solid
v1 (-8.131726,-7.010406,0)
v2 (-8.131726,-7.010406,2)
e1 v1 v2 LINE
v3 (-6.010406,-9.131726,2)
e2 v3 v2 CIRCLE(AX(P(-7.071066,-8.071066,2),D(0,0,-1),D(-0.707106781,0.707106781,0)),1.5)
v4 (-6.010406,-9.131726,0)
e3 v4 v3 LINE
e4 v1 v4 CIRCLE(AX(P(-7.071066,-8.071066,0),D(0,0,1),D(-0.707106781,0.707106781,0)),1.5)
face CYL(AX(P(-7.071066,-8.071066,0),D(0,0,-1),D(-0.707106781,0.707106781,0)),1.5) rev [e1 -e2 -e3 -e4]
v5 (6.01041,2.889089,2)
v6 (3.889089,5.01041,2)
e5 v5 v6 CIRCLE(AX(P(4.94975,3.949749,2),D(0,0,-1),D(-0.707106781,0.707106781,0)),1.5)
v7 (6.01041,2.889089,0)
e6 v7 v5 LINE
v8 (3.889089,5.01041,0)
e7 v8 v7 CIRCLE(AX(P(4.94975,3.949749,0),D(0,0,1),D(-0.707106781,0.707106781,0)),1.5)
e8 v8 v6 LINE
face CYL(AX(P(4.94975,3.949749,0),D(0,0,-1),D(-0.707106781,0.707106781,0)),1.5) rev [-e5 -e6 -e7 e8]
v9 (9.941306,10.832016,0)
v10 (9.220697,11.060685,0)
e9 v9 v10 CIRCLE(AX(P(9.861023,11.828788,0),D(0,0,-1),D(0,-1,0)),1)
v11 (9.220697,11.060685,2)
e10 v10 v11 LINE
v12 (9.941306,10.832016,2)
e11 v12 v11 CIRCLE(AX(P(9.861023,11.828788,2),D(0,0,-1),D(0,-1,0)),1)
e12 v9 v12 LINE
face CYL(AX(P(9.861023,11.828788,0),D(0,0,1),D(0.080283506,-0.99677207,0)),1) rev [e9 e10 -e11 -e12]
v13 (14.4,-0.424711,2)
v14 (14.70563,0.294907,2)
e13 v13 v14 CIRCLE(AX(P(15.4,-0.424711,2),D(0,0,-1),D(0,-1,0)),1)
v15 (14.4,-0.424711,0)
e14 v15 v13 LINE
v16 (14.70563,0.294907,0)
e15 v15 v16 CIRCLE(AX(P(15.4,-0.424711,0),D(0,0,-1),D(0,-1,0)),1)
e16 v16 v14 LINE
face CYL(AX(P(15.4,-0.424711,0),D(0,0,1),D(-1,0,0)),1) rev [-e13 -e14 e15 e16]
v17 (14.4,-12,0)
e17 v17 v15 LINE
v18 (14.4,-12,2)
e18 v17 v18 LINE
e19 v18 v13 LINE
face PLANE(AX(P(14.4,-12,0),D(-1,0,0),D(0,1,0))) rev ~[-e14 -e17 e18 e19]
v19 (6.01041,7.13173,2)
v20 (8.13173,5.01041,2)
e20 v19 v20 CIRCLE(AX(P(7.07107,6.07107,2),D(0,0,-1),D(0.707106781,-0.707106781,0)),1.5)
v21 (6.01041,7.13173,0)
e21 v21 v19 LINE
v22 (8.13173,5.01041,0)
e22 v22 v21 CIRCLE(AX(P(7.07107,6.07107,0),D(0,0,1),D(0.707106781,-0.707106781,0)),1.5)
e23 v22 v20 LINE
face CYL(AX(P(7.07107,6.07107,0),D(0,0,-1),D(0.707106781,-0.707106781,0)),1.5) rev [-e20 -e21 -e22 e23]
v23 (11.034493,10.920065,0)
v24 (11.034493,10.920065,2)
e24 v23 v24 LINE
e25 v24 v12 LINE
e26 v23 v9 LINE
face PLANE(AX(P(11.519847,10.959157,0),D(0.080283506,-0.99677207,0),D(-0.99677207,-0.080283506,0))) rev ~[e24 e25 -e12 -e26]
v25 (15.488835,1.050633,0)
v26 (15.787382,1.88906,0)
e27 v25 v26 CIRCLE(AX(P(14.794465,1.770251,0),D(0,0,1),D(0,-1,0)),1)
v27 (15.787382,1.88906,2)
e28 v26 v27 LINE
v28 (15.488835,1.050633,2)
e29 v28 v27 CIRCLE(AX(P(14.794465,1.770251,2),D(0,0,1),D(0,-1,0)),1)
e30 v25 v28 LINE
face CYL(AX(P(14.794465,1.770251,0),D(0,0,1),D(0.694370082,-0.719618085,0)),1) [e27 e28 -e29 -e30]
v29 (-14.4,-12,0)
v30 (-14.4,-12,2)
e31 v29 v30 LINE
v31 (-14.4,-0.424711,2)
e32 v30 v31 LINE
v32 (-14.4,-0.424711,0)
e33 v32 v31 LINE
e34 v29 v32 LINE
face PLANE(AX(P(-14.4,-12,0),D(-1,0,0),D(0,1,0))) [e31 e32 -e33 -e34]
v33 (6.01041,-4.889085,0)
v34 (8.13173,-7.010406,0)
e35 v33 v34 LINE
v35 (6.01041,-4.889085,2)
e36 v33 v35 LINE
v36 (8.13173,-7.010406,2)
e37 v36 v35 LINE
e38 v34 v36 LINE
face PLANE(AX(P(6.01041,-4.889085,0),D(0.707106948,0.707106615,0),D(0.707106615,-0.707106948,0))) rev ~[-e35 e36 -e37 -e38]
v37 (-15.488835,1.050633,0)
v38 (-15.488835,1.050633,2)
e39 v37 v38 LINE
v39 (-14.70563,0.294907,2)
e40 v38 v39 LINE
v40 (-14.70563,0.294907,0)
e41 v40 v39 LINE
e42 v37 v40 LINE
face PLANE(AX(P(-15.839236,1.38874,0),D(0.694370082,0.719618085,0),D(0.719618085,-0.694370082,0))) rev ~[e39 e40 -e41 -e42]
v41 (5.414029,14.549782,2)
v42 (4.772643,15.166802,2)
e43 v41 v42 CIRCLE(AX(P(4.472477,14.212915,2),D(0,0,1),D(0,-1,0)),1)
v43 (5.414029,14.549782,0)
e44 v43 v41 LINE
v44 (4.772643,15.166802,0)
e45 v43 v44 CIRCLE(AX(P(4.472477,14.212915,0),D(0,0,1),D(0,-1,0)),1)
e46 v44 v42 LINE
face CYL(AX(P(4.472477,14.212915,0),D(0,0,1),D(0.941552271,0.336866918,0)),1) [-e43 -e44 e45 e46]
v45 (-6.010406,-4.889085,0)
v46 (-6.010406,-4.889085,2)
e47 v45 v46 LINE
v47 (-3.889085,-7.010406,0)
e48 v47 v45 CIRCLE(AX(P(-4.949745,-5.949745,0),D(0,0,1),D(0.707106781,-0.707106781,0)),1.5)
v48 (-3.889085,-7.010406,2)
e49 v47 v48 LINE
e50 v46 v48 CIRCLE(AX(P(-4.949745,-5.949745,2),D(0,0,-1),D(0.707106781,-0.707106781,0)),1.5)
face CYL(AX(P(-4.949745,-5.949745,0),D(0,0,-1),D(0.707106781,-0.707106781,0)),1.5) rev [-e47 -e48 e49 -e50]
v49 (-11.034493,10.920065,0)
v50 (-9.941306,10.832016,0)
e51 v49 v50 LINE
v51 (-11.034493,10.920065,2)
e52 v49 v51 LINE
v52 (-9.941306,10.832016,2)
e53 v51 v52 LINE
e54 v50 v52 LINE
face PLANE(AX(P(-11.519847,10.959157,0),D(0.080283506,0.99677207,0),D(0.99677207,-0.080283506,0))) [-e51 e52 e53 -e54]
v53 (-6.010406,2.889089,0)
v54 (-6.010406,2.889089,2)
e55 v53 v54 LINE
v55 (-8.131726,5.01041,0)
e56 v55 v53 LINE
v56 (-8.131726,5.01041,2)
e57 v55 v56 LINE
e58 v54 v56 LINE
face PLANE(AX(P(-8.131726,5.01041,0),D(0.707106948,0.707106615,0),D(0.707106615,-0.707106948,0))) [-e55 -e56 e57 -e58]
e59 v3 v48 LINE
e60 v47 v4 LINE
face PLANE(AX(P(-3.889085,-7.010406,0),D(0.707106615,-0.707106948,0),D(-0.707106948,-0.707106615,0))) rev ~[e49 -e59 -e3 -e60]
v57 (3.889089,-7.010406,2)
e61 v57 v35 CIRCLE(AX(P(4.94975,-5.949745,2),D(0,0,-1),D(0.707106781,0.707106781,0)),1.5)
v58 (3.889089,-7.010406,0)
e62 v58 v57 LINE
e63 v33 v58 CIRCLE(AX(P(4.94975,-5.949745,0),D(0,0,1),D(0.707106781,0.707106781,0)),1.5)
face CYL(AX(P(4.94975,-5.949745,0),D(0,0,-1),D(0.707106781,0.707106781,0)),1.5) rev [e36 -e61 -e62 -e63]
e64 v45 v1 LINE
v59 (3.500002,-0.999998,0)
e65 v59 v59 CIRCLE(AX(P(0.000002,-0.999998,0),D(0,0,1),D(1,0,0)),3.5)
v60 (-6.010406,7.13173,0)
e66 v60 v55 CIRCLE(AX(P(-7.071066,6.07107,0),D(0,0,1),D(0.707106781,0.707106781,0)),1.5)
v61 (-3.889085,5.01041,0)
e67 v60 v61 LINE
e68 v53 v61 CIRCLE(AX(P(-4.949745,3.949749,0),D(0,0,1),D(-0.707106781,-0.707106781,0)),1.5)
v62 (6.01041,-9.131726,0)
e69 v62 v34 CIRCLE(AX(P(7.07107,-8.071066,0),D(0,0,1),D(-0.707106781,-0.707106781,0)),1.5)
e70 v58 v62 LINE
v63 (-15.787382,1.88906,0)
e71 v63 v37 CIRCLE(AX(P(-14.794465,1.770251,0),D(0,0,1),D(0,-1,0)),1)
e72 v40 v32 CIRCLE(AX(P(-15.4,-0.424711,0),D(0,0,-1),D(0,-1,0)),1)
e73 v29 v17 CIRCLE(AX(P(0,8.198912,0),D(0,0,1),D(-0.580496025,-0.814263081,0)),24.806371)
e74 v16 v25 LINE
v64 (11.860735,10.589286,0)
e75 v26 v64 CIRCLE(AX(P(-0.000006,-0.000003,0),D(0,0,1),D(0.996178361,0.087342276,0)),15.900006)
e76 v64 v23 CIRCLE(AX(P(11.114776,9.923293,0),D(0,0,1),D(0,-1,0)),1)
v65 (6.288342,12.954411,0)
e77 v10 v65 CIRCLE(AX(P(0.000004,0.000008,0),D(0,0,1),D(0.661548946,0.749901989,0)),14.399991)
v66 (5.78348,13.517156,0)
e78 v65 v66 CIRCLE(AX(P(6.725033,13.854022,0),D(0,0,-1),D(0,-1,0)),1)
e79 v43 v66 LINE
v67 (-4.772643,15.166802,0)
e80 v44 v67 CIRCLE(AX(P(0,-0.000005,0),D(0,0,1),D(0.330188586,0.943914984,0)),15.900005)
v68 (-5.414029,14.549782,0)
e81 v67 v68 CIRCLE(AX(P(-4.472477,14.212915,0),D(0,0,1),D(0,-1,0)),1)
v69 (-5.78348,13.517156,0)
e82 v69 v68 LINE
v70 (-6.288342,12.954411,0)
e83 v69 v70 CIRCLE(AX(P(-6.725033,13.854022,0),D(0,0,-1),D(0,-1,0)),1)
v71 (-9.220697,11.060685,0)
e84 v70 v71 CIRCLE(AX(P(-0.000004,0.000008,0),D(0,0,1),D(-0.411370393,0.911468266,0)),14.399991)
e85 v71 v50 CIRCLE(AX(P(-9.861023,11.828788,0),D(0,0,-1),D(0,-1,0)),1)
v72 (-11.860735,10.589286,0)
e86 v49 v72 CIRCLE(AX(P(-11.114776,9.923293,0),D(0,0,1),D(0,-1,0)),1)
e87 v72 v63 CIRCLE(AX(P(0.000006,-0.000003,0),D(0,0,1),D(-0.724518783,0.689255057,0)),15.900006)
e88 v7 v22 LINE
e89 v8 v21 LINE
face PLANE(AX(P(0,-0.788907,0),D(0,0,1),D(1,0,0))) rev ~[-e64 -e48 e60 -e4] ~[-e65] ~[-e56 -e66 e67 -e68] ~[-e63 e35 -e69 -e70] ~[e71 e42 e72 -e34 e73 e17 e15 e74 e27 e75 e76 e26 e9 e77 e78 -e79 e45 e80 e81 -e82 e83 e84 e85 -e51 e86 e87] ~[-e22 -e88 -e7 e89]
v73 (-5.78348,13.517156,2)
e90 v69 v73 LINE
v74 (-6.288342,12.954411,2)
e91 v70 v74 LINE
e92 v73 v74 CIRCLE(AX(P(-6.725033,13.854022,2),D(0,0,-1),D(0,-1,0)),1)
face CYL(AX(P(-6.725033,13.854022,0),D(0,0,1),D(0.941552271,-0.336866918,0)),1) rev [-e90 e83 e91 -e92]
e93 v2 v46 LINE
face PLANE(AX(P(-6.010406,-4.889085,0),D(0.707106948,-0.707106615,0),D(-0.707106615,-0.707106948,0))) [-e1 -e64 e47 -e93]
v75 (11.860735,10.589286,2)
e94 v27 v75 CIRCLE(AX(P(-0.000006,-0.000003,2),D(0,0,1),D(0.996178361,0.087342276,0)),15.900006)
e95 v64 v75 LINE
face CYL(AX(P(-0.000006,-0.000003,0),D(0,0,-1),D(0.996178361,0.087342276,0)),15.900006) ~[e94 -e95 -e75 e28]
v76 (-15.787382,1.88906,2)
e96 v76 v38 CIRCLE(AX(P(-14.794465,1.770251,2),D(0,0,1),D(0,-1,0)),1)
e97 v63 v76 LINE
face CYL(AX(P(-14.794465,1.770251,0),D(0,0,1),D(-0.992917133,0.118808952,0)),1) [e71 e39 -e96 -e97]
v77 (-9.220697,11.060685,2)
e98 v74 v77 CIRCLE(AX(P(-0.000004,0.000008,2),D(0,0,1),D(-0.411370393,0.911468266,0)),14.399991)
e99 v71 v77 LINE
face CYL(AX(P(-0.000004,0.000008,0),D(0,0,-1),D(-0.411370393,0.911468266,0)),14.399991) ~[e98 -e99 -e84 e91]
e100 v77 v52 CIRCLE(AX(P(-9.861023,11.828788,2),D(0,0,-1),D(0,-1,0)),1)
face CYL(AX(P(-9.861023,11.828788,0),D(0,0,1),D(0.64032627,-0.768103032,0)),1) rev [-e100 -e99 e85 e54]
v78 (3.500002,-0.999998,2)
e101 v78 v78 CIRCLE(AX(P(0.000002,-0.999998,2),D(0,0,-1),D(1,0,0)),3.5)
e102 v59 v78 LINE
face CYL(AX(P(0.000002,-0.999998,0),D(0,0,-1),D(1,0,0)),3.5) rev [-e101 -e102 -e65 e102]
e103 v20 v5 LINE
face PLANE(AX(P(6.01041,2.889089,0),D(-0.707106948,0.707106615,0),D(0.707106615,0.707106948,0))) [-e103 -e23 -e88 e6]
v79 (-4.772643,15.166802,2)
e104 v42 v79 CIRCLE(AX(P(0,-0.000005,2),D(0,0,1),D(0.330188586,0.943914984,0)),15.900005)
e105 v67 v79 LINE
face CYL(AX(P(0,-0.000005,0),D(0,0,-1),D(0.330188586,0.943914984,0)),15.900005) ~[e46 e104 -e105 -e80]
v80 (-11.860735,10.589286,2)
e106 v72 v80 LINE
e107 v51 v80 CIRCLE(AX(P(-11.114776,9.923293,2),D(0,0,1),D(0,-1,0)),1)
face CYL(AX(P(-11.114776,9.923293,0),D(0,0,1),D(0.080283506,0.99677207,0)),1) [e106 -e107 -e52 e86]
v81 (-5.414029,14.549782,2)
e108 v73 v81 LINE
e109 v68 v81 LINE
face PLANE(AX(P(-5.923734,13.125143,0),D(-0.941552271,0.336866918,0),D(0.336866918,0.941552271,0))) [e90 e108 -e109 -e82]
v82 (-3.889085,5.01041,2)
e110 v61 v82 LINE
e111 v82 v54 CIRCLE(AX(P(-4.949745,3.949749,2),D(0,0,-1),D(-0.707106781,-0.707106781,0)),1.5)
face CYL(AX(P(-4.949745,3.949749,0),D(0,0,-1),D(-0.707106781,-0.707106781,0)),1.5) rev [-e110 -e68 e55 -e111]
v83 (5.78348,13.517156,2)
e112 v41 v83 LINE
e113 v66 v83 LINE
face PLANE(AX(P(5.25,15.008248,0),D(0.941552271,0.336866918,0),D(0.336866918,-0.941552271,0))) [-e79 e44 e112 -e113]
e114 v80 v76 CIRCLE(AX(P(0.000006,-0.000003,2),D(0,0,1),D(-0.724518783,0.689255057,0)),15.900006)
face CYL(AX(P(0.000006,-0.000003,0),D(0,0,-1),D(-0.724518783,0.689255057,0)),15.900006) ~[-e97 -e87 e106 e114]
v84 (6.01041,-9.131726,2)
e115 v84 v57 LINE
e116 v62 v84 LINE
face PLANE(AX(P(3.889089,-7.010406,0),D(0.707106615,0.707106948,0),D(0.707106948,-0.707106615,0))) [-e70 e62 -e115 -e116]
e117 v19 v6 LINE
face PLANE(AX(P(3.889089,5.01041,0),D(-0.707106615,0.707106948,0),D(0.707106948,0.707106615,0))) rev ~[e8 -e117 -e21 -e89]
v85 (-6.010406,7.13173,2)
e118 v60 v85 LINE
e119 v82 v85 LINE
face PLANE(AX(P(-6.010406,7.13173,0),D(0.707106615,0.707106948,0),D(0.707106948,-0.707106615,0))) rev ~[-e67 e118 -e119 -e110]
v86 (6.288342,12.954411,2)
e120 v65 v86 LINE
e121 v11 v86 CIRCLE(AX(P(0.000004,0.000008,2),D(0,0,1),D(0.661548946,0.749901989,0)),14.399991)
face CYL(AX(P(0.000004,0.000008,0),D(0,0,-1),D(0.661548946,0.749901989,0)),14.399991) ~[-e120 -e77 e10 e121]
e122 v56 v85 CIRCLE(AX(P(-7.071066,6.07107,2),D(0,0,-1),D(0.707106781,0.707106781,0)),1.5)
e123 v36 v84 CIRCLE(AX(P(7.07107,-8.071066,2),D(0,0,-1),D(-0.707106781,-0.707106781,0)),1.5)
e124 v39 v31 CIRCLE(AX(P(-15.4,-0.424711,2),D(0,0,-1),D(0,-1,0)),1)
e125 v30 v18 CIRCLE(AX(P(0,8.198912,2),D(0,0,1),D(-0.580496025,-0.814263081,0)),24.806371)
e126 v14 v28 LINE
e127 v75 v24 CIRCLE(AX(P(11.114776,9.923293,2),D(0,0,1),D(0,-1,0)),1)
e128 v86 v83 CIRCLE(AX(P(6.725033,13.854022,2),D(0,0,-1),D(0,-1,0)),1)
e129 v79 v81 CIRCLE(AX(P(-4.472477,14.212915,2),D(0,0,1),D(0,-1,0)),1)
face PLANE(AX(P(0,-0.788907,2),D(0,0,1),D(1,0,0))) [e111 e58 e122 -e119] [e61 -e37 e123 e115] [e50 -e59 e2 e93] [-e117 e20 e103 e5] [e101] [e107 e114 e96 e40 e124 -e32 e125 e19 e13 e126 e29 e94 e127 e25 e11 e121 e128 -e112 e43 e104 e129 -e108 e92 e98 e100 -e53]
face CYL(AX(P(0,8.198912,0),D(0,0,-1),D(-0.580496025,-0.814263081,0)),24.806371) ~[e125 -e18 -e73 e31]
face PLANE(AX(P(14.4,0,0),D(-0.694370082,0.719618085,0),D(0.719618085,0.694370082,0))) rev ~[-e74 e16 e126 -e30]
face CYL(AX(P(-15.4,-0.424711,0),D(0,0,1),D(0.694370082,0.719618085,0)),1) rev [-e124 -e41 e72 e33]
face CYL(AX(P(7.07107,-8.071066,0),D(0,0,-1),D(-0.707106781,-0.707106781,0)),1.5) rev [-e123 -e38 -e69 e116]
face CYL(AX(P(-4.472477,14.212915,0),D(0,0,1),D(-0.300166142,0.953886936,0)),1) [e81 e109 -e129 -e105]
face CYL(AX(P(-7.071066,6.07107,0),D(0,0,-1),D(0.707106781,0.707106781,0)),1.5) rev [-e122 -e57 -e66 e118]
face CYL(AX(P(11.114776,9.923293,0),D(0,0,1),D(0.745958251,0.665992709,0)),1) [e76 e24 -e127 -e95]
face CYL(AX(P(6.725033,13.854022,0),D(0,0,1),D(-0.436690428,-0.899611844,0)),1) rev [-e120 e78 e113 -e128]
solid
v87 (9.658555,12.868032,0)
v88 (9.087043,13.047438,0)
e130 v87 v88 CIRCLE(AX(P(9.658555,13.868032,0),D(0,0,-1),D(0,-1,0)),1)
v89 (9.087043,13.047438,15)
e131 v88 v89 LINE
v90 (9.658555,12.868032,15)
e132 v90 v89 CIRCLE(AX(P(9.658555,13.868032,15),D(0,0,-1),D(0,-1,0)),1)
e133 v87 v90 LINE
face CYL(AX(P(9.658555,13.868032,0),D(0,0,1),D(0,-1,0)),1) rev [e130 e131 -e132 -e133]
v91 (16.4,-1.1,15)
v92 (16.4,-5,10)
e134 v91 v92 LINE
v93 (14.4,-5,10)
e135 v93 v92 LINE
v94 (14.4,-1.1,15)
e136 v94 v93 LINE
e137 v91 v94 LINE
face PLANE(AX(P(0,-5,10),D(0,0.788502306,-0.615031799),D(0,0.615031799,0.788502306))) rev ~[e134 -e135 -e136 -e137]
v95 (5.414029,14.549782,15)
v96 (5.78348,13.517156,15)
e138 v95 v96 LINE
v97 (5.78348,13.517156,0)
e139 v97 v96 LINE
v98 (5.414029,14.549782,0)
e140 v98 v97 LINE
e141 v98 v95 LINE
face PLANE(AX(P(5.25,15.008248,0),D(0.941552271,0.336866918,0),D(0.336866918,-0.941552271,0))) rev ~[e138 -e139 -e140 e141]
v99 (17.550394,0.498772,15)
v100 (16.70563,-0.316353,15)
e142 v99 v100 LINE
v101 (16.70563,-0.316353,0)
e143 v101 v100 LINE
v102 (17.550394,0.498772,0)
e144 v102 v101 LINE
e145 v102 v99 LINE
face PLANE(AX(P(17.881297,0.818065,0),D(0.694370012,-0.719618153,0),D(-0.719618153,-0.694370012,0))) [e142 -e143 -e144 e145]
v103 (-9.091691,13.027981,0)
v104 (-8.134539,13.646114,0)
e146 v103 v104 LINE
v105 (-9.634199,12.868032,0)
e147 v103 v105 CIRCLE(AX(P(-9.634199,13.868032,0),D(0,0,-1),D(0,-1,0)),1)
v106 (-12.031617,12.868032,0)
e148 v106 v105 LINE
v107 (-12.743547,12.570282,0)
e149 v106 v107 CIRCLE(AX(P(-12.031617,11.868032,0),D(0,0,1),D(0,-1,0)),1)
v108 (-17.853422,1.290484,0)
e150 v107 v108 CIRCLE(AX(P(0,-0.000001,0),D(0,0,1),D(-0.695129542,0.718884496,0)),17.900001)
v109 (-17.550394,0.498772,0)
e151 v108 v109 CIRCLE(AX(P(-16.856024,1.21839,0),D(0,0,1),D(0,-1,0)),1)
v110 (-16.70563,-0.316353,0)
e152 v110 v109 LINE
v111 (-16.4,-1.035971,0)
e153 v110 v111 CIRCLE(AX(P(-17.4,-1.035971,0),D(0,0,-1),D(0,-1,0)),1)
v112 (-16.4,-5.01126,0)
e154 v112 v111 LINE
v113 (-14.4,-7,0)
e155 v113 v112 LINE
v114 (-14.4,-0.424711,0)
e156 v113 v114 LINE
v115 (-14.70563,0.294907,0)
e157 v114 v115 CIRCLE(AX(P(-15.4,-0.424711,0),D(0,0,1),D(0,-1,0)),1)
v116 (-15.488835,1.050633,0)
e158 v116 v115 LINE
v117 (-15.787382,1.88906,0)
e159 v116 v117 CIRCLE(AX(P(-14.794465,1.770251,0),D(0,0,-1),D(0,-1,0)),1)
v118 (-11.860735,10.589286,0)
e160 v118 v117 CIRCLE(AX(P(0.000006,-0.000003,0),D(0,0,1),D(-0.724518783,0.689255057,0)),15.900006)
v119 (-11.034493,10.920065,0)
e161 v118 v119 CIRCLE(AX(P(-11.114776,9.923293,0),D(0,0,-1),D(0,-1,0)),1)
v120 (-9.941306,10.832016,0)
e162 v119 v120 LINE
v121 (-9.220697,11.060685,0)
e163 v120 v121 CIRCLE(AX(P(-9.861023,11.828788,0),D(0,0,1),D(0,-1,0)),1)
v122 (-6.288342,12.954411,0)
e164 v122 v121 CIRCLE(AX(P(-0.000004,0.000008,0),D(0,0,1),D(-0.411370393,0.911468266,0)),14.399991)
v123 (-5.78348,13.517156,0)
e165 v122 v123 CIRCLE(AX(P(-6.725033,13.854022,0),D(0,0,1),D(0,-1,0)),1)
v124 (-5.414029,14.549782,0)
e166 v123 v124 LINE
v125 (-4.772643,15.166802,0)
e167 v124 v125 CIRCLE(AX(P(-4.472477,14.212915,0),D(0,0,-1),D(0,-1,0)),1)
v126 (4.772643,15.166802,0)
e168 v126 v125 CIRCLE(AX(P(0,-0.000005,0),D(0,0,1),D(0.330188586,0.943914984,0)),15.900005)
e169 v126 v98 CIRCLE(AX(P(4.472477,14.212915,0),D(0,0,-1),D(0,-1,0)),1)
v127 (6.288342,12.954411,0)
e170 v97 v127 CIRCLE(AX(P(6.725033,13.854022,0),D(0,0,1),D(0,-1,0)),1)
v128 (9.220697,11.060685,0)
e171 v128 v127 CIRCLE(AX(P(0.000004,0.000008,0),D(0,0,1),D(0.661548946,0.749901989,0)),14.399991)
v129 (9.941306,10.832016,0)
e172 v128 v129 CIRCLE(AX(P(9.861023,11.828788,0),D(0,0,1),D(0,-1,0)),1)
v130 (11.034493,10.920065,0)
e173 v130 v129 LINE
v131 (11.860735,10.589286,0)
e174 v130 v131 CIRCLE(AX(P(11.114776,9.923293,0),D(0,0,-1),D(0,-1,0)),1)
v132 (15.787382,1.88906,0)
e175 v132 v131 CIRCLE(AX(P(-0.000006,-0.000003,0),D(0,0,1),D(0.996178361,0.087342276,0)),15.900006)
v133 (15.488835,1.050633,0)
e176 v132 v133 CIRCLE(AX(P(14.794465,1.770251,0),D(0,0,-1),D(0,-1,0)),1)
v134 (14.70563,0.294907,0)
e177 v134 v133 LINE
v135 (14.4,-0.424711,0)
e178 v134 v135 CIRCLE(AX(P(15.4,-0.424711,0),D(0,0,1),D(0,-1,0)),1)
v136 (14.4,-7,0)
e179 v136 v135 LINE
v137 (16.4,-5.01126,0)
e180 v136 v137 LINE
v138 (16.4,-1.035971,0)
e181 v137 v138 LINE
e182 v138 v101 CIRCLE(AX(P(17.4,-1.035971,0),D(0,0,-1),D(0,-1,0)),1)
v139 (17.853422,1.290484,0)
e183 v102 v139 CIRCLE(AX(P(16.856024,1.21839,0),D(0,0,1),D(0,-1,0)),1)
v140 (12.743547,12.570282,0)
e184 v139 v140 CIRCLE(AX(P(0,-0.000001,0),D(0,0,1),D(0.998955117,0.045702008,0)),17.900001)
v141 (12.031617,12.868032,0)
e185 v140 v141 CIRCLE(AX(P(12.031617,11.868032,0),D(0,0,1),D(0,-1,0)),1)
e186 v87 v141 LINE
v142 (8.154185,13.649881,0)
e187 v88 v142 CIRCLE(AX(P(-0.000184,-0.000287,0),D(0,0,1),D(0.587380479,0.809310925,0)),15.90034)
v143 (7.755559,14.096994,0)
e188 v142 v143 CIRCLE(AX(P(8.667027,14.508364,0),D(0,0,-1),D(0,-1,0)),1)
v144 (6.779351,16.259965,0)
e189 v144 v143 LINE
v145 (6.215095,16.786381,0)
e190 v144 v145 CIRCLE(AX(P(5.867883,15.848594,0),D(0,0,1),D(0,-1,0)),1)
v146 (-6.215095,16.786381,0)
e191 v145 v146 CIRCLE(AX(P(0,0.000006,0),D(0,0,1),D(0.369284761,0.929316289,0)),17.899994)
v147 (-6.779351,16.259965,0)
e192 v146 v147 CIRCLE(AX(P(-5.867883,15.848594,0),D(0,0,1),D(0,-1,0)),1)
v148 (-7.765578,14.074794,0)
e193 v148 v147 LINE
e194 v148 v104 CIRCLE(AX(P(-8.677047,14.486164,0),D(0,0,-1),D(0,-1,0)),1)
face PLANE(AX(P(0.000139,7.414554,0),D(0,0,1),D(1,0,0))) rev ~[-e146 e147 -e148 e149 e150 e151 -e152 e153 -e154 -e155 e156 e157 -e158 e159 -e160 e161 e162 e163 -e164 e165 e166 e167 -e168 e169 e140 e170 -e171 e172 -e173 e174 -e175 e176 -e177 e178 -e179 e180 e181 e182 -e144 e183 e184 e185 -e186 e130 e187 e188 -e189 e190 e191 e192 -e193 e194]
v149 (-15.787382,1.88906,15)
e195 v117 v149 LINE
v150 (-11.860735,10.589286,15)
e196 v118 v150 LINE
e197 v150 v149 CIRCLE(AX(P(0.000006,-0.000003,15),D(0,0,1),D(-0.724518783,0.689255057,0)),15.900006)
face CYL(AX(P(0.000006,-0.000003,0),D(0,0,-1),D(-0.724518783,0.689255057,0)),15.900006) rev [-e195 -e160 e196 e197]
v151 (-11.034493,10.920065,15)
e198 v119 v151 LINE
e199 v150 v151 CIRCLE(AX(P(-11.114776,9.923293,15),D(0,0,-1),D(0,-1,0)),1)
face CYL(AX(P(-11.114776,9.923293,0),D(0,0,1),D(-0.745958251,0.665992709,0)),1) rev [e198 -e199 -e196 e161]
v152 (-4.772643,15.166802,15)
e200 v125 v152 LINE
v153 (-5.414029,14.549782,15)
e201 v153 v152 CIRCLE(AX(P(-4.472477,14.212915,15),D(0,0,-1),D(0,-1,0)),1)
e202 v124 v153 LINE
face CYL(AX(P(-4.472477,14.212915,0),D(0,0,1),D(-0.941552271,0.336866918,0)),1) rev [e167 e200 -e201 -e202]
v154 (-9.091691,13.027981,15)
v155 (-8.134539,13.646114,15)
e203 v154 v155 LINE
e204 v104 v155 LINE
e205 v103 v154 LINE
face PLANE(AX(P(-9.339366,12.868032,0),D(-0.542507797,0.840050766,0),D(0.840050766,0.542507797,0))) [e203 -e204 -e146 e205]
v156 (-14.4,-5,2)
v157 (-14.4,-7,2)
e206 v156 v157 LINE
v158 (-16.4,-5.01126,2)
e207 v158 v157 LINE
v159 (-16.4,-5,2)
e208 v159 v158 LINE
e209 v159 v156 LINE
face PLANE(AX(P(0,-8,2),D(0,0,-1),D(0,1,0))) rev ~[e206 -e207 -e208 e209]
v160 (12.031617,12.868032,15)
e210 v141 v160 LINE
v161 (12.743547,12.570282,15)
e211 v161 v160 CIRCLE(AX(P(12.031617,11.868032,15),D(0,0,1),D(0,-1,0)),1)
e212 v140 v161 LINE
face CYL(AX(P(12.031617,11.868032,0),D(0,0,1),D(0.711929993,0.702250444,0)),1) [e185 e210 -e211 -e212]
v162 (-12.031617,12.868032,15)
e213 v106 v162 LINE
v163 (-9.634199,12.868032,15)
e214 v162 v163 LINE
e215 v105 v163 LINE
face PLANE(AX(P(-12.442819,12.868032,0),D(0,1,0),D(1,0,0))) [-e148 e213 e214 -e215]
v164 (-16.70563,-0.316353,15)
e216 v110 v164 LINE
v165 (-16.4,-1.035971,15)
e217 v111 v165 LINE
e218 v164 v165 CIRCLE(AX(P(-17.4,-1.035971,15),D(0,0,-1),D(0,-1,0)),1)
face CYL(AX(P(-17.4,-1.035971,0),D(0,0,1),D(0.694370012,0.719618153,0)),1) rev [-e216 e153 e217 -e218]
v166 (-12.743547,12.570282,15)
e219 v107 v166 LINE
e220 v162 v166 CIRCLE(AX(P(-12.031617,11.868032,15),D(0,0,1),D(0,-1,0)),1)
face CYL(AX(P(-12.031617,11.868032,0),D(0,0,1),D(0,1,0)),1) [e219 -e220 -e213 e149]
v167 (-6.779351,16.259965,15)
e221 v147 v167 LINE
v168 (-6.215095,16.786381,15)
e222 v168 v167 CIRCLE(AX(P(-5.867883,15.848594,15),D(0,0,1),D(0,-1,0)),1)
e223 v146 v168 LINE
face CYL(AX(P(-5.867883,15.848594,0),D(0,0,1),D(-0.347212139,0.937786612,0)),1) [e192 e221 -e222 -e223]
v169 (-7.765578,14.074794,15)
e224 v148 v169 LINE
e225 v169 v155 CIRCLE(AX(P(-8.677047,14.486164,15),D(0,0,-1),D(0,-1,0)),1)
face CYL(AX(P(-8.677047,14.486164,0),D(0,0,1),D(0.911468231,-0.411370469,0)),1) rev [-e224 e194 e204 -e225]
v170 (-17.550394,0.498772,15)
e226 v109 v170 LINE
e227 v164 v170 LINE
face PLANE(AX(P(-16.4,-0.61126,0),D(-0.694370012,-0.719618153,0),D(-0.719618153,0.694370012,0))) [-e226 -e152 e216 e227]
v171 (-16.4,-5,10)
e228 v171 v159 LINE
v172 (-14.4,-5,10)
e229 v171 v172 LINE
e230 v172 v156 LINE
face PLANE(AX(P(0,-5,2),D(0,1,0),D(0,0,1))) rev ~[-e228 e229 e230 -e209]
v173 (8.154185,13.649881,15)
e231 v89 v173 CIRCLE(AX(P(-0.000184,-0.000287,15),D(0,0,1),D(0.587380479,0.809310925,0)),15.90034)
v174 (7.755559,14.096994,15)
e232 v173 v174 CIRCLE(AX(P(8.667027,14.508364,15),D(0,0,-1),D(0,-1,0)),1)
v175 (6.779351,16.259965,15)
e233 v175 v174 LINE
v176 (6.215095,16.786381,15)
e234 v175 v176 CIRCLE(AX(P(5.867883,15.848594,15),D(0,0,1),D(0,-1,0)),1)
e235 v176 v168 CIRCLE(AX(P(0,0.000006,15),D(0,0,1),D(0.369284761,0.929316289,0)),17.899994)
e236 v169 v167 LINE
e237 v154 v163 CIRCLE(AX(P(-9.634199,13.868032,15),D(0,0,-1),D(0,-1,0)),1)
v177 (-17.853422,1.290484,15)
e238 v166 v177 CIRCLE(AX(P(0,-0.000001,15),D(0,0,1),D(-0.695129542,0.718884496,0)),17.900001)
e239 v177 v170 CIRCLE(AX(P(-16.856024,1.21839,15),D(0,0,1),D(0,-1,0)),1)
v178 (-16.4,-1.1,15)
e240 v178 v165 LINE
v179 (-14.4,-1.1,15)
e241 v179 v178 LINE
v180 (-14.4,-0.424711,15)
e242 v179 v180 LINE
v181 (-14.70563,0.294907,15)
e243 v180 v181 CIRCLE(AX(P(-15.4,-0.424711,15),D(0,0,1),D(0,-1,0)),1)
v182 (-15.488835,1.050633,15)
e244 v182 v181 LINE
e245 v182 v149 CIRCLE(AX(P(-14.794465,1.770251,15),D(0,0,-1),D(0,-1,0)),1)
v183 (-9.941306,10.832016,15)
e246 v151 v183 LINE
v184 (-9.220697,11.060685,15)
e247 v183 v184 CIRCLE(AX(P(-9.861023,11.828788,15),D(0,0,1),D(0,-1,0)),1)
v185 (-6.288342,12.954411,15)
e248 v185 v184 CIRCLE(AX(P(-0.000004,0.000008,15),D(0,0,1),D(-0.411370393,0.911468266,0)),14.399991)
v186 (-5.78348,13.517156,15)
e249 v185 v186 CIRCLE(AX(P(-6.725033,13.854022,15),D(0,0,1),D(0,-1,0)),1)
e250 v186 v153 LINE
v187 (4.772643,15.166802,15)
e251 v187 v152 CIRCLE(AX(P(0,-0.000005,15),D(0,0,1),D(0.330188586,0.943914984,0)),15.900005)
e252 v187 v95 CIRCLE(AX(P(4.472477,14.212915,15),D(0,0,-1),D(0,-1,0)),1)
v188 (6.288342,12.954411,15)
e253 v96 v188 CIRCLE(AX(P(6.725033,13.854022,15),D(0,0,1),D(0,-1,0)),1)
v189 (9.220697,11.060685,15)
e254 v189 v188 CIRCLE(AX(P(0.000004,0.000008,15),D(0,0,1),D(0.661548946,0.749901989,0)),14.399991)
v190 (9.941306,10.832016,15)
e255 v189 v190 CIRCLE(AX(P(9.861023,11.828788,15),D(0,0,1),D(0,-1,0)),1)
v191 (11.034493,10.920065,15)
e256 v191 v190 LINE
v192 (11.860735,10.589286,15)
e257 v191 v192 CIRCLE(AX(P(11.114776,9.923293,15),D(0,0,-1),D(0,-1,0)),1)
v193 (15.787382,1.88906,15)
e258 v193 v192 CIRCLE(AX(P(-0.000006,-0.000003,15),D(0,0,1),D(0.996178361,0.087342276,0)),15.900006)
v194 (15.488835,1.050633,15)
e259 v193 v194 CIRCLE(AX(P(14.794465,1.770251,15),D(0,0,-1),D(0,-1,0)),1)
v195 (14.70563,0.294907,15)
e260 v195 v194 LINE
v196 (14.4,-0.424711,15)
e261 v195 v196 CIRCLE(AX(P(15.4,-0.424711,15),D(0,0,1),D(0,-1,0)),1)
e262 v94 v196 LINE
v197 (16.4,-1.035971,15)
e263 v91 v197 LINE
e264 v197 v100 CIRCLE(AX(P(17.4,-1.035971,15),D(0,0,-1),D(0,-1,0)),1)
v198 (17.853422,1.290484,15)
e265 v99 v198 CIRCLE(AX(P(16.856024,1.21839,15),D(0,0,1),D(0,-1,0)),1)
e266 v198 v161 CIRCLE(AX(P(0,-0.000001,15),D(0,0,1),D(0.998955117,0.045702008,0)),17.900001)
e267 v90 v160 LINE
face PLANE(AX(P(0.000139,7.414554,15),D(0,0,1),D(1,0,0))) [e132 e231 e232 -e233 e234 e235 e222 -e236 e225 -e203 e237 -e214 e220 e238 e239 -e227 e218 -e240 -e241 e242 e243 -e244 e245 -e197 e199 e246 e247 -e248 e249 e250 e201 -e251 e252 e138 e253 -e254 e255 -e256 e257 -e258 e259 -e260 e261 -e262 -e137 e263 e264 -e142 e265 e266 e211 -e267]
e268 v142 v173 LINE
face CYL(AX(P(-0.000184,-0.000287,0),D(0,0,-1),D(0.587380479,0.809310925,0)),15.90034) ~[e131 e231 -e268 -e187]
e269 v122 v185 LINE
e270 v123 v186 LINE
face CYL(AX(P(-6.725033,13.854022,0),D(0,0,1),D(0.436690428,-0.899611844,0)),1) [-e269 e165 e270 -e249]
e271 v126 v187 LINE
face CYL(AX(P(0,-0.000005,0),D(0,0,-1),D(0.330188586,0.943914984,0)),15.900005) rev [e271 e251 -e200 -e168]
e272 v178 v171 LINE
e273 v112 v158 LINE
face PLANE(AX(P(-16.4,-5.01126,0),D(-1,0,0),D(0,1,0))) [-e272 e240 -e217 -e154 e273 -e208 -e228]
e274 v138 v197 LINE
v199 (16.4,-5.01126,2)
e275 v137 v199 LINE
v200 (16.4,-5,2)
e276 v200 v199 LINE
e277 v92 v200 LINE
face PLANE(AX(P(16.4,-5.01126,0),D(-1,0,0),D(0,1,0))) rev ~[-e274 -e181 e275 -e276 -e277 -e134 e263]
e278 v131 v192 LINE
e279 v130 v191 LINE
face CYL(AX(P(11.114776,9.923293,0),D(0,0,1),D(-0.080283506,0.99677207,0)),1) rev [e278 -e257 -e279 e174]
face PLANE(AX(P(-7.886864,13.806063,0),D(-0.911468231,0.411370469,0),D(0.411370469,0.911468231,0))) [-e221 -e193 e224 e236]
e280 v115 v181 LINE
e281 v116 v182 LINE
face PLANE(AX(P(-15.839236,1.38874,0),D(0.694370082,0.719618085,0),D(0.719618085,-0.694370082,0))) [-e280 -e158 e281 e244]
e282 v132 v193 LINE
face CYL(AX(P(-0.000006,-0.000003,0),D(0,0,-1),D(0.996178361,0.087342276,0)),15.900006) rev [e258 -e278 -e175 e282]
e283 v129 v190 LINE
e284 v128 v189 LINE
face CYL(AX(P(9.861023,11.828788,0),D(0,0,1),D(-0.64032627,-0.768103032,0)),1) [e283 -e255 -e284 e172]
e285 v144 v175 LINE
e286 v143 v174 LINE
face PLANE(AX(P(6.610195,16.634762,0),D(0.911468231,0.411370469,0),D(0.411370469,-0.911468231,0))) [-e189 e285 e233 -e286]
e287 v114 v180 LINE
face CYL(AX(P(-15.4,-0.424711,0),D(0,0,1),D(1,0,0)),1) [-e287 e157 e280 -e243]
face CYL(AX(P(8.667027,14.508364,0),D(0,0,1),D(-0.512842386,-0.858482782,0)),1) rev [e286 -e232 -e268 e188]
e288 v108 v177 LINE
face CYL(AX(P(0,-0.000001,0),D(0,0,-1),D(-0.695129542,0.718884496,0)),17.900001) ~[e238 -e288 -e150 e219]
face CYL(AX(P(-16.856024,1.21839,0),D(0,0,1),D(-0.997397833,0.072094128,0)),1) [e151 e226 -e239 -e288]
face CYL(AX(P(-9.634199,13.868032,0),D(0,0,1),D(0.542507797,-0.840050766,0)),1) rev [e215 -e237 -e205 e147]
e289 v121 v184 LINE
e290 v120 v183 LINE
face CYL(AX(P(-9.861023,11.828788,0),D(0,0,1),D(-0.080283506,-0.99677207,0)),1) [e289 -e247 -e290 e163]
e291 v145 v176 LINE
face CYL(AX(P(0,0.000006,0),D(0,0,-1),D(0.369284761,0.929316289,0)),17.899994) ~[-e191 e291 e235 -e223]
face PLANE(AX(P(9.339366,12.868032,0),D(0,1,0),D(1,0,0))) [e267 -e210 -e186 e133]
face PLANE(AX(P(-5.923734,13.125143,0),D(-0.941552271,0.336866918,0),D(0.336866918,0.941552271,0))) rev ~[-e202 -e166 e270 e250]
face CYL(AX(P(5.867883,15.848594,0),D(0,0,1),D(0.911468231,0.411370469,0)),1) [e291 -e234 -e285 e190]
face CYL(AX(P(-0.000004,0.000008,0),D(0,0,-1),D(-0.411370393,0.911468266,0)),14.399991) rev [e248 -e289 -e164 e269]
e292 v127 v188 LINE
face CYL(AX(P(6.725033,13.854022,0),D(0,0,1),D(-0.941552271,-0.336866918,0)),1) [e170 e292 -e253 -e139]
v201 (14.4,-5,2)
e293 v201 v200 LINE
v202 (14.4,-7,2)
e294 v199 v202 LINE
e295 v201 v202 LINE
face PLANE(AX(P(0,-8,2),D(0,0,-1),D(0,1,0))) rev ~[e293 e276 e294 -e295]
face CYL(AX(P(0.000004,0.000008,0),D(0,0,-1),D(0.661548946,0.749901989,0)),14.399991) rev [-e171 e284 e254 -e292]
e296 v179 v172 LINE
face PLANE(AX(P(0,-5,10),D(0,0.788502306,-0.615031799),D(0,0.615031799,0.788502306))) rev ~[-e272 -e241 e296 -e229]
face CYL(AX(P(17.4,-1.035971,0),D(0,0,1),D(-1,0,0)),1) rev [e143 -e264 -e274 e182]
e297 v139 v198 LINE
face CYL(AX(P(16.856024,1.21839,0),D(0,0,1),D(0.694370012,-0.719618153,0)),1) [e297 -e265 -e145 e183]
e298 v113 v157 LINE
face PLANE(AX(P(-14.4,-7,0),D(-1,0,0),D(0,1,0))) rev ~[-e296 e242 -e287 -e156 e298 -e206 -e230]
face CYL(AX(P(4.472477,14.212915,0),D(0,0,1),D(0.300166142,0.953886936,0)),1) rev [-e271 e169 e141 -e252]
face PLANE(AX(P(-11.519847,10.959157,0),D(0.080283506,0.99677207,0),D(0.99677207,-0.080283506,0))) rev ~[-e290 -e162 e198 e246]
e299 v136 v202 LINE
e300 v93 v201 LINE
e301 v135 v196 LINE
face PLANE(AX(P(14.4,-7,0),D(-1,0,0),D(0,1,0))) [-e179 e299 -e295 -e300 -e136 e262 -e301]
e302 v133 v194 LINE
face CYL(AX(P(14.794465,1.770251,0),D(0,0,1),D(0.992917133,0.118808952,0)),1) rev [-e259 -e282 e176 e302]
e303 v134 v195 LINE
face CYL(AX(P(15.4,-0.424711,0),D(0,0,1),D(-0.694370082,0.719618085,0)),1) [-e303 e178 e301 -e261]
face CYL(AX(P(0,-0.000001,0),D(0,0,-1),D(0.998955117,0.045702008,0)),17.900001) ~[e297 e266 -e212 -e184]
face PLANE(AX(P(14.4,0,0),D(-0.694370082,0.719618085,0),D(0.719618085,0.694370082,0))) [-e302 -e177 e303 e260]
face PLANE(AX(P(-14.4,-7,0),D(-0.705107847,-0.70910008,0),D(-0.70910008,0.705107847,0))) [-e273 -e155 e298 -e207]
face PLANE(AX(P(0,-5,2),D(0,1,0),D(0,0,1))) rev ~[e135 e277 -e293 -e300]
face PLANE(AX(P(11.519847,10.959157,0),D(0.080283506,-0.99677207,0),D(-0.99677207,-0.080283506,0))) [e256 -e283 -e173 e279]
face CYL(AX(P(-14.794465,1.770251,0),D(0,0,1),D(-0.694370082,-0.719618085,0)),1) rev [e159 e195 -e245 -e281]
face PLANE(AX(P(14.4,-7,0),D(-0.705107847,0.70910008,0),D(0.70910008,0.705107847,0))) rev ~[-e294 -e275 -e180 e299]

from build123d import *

# Parameters (mm, degrees)
SKETCH_R     = 3.5
PAD004_DEPTH = 3
PAD_DEPTH    = 2
FILLET001_R  = 1
PAD002_DEPTH = 16.5
PAD003_DEPTH = 15
FILLET_R     = 1


with BuildPart() as holes_pad:
    # Sketch → Pad004 (new body)
    with BuildSketch(Plane.XY):
        with Locations((2e-06, -0.999998)):
            Circle(SKETCH_R)
        with BuildLine():
            Line((-6.010406, -4.889085), (-8.131726, -7.010406))
            ThreePointArc((-8.131726, -7.010406), (-8.131726, -9.131726), (-6.010406, -9.131726))
            Line((-3.889085, -7.010406), (-6.010406, -9.131726))
            ThreePointArc((-3.889085, -7.010406), (-3.889085, -4.889085), (-6.010406, -4.889085))
        make_face()
        with BuildLine():
            Line((3.889089, -7.010406), (6.01041, -9.131726))
            ThreePointArc((6.01041, -9.131726), (8.13173, -9.131726), (8.13173, -7.010406))
            Line((6.01041, -4.889085), (8.13173, -7.010406))
            ThreePointArc((6.01041, -4.889085), (3.889089, -4.889085), (3.889089, -7.010406))
        make_face()
        with BuildLine():
            Line((6.01041, 2.889089), (8.13173, 5.01041))
            ThreePointArc((8.13173, 5.01041), (8.13173, 7.13173), (6.01041, 7.13173))
            Line((3.889089, 5.01041), (6.01041, 7.13173))
            ThreePointArc((3.889089, 5.01041), (3.889089, 2.889089), (6.01041, 2.889089))
        make_face()
        with BuildLine():
            Line((-8.131726, 5.01041), (-6.010406, 2.889089))
            ThreePointArc((-6.010406, 2.889089), (-3.889085, 2.889089), (-3.889085, 5.01041))
            Line((-6.010406, 7.13173), (-3.889085, 5.01041))
            ThreePointArc((-6.010406, 7.13173), (-8.131726, 7.13173), (-8.131726, 5.01041))
        make_face()
    extrude(amount=PAD004_DEPTH)


with BuildPart() as base_cut:
    # Sketch001 → Pad (new body)
    with BuildSketch(Plane.XY):
        with BuildLine():
            ThreePointArc((-14.4, -12), (0, -16.607459), (14.4, -12))
            Line((14.4, -12), (14.4, 0))
            Line((14.4, 0), (15.839236, 1.38874))
            ThreePointArc((15.839236, 1.38874), (14.492345, 6.540789), (11.519847, 10.959157))
            Line((11.519847, 10.959157), (9.526303, 10.79859))
            ThreePointArc((9.526303, 10.79859), (7.812114, 12.09673), (5.923734, 13.125143))
            Line((5.25, 15.008248), (5.923734, 13.125143))
            ThreePointArc((5.25, 15.008248), (0, 15.9), (-5.25, 15.008248))
            Line((-5.923734, 13.125143), (-5.25, 15.008248))
            ThreePointArc((-5.923734, 13.125143), (-7.812114, 12.09673), (-9.526303, 10.79859))
            Line((-11.519847, 10.959157), (-9.526303, 10.79859))
            ThreePointArc((-11.519847, 10.959157), (-14.492345, 6.540789), (-15.839236, 1.38874))
            Line((-15.839236, 1.38874), (-14.4, 0))
            Line((-14.4, -12), (-14.4, 0))
        make_face()
    extrude(amount=PAD_DEPTH)

    # Fillet001
    fillet001_edges = [base_cut.edges().sort_by_distance(p)[0] for p in [
        (-11.519847, 10.959157, 1),
        (-15.839236, 1.38874, 1),
        (-14.4, 0, 1),
        (14.4, 0, 1),
        (15.839236, 1.38874, 1),
        (11.519847, 10.959157, 1),
        (9.526303, 10.79859, 1),
        (5.923734, 13.125143, 1),
        (5.25, 15.008248, 1),
        (-5.25, 15.008248, 1),
        (-5.923734, 13.125143, 1),
        (-9.526303, 10.79859, 1),
    ]]
    fillet(fillet001_edges, radius=FILLET001_R)

    # Cut001: cut Holes Pad
    add(holes_pad.part, mode=Mode.SUBTRACT)


with BuildPart() as walls_taper_pad:
    # Sketch002 → Pad002 (new body, symmetric)
    with BuildSketch(Plane.YZ):
        Polygon((-8, 2), (-5, 2), (-5, 10), (-1.1, 15), (-8, 15), align=None)
    extrude(amount=PAD002_DEPTH, both=True)


with BuildPart() as fillet_body:
    # Sketch003 → Pad003 (new body)
    with BuildSketch(Plane.XY):
        with BuildLine():
            Line((-14.4, -7), (-14.4, 0))
            Line((-15.839236, 1.38874), (-14.4, 0))
            ThreePointArc((-11.519847, 10.959157), (-14.492345, 6.540789), (-15.839236, 1.38874))
            Line((-11.519847, 10.959157), (-9.526303, 10.79859))
            ThreePointArc((-5.923734, 13.125143), (-7.812114, 12.09673), (-9.526303, 10.79859))
            Line((-5.923734, 13.125143), (-5.25, 15.008248))
            ThreePointArc((5.25, 15.008248), (0, 15.9), (-5.25, 15.008248))
            Line((5.25, 15.008248), (5.923734, 13.125143))
            ThreePointArc((9.526303, 10.79859), (7.812114, 12.09673), (5.923734, 13.125143))
            Line((11.519847, 10.959157), (9.526303, 10.79859))
            ThreePointArc((15.839236, 1.38874), (14.492345, 6.540789), (11.519847, 10.959157))
            Line((14.4, 0), (15.839236, 1.38874))
            Line((14.4, -7), (14.4, 0))
            Line((14.4, -7), (16.4, -5.01126))
            Line((16.4, -5.01126), (16.4, -0.61126))
            Line((17.881297, 0.818065), (16.4, -0.61126))
            ThreePointArc((17.881297, 0.818065), (16.315282, 7.36353), (12.442819, 12.868032))
            Line((9.339366, 12.868032), (12.442819, 12.868032))
            ThreePointArc((9.339366, 12.868032), (8.625875, 13.356806), (7.886864, 13.806063))
            Line((6.610195, 16.634762), (7.886864, 13.806063))
            ThreePointArc((6.610195, 16.634762), (0, 17.9), (-6.610195, 16.634762))
            Line((-7.886864, 13.806063), (-6.610195, 16.634762))
            Line((-9.339366, 12.868032), (-7.886864, 13.806063))
            Line((-12.442819, 12.868032), (-9.339366, 12.868032))
            ThreePointArc((-12.442819, 12.868032), (-16.315282, 7.36353), (-17.881297, 0.818065))
            Line((-16.4, -0.61126), (-17.881297, 0.818065))
            Line((-16.4, -5.01126), (-16.4, -0.61126))
            Line((-14.4, -7), (-16.4, -5.01126))
        make_face()
    extrude(amount=PAD003_DEPTH)

    # Cut: cut Walls Taper Pad
    add(walls_taper_pad.part, mode=Mode.SUBTRACT)

    # Fillet
    fillet_edges = [fillet_body.edges().sort_by_distance(p)[0] for p in [
        (-14.4, 0, 7.5),
        (-15.839236, 1.38874, 7.5),
        (-11.519847, 10.959157, 7.5),
        (-9.526303, 10.79859, 7.5),
        (-5.923734, 13.125143, 7.5),
        (-5.25, 15.008248, 7.5),
        (5.25, 15.008248, 7.5),
        (5.923734, 13.125143, 7.5),
        (9.526303, 10.79859, 7.5),
        (11.519847, 10.959157, 7.5),
        (15.839236, 1.38874, 7.5),
        (14.4, 0, 7.5),
        (16.4, -0.61126, 7.5),
        (17.881297, 0.818065, 7.5),
        (12.442819, 12.868032, 7.5),
        (9.339366, 12.868032, 7.5),
        (7.886864, 13.806063, 7.5),
        (6.610195, 16.634762, 7.5),
        (-6.610195, 16.634762, 7.5),
        (-7.886864, 13.806063, 7.5),
        (-9.339366, 12.868032, 7.5),
        (-12.442819, 12.868032, 7.5),
        (-17.881297, 0.818065, 7.5),
        (-16.4, -0.61126, 7.5),
    ]]
    fillet(fillet_edges, radius=FILLET_R)


solid = Compound([base_cut.part, fillet_body.part])
